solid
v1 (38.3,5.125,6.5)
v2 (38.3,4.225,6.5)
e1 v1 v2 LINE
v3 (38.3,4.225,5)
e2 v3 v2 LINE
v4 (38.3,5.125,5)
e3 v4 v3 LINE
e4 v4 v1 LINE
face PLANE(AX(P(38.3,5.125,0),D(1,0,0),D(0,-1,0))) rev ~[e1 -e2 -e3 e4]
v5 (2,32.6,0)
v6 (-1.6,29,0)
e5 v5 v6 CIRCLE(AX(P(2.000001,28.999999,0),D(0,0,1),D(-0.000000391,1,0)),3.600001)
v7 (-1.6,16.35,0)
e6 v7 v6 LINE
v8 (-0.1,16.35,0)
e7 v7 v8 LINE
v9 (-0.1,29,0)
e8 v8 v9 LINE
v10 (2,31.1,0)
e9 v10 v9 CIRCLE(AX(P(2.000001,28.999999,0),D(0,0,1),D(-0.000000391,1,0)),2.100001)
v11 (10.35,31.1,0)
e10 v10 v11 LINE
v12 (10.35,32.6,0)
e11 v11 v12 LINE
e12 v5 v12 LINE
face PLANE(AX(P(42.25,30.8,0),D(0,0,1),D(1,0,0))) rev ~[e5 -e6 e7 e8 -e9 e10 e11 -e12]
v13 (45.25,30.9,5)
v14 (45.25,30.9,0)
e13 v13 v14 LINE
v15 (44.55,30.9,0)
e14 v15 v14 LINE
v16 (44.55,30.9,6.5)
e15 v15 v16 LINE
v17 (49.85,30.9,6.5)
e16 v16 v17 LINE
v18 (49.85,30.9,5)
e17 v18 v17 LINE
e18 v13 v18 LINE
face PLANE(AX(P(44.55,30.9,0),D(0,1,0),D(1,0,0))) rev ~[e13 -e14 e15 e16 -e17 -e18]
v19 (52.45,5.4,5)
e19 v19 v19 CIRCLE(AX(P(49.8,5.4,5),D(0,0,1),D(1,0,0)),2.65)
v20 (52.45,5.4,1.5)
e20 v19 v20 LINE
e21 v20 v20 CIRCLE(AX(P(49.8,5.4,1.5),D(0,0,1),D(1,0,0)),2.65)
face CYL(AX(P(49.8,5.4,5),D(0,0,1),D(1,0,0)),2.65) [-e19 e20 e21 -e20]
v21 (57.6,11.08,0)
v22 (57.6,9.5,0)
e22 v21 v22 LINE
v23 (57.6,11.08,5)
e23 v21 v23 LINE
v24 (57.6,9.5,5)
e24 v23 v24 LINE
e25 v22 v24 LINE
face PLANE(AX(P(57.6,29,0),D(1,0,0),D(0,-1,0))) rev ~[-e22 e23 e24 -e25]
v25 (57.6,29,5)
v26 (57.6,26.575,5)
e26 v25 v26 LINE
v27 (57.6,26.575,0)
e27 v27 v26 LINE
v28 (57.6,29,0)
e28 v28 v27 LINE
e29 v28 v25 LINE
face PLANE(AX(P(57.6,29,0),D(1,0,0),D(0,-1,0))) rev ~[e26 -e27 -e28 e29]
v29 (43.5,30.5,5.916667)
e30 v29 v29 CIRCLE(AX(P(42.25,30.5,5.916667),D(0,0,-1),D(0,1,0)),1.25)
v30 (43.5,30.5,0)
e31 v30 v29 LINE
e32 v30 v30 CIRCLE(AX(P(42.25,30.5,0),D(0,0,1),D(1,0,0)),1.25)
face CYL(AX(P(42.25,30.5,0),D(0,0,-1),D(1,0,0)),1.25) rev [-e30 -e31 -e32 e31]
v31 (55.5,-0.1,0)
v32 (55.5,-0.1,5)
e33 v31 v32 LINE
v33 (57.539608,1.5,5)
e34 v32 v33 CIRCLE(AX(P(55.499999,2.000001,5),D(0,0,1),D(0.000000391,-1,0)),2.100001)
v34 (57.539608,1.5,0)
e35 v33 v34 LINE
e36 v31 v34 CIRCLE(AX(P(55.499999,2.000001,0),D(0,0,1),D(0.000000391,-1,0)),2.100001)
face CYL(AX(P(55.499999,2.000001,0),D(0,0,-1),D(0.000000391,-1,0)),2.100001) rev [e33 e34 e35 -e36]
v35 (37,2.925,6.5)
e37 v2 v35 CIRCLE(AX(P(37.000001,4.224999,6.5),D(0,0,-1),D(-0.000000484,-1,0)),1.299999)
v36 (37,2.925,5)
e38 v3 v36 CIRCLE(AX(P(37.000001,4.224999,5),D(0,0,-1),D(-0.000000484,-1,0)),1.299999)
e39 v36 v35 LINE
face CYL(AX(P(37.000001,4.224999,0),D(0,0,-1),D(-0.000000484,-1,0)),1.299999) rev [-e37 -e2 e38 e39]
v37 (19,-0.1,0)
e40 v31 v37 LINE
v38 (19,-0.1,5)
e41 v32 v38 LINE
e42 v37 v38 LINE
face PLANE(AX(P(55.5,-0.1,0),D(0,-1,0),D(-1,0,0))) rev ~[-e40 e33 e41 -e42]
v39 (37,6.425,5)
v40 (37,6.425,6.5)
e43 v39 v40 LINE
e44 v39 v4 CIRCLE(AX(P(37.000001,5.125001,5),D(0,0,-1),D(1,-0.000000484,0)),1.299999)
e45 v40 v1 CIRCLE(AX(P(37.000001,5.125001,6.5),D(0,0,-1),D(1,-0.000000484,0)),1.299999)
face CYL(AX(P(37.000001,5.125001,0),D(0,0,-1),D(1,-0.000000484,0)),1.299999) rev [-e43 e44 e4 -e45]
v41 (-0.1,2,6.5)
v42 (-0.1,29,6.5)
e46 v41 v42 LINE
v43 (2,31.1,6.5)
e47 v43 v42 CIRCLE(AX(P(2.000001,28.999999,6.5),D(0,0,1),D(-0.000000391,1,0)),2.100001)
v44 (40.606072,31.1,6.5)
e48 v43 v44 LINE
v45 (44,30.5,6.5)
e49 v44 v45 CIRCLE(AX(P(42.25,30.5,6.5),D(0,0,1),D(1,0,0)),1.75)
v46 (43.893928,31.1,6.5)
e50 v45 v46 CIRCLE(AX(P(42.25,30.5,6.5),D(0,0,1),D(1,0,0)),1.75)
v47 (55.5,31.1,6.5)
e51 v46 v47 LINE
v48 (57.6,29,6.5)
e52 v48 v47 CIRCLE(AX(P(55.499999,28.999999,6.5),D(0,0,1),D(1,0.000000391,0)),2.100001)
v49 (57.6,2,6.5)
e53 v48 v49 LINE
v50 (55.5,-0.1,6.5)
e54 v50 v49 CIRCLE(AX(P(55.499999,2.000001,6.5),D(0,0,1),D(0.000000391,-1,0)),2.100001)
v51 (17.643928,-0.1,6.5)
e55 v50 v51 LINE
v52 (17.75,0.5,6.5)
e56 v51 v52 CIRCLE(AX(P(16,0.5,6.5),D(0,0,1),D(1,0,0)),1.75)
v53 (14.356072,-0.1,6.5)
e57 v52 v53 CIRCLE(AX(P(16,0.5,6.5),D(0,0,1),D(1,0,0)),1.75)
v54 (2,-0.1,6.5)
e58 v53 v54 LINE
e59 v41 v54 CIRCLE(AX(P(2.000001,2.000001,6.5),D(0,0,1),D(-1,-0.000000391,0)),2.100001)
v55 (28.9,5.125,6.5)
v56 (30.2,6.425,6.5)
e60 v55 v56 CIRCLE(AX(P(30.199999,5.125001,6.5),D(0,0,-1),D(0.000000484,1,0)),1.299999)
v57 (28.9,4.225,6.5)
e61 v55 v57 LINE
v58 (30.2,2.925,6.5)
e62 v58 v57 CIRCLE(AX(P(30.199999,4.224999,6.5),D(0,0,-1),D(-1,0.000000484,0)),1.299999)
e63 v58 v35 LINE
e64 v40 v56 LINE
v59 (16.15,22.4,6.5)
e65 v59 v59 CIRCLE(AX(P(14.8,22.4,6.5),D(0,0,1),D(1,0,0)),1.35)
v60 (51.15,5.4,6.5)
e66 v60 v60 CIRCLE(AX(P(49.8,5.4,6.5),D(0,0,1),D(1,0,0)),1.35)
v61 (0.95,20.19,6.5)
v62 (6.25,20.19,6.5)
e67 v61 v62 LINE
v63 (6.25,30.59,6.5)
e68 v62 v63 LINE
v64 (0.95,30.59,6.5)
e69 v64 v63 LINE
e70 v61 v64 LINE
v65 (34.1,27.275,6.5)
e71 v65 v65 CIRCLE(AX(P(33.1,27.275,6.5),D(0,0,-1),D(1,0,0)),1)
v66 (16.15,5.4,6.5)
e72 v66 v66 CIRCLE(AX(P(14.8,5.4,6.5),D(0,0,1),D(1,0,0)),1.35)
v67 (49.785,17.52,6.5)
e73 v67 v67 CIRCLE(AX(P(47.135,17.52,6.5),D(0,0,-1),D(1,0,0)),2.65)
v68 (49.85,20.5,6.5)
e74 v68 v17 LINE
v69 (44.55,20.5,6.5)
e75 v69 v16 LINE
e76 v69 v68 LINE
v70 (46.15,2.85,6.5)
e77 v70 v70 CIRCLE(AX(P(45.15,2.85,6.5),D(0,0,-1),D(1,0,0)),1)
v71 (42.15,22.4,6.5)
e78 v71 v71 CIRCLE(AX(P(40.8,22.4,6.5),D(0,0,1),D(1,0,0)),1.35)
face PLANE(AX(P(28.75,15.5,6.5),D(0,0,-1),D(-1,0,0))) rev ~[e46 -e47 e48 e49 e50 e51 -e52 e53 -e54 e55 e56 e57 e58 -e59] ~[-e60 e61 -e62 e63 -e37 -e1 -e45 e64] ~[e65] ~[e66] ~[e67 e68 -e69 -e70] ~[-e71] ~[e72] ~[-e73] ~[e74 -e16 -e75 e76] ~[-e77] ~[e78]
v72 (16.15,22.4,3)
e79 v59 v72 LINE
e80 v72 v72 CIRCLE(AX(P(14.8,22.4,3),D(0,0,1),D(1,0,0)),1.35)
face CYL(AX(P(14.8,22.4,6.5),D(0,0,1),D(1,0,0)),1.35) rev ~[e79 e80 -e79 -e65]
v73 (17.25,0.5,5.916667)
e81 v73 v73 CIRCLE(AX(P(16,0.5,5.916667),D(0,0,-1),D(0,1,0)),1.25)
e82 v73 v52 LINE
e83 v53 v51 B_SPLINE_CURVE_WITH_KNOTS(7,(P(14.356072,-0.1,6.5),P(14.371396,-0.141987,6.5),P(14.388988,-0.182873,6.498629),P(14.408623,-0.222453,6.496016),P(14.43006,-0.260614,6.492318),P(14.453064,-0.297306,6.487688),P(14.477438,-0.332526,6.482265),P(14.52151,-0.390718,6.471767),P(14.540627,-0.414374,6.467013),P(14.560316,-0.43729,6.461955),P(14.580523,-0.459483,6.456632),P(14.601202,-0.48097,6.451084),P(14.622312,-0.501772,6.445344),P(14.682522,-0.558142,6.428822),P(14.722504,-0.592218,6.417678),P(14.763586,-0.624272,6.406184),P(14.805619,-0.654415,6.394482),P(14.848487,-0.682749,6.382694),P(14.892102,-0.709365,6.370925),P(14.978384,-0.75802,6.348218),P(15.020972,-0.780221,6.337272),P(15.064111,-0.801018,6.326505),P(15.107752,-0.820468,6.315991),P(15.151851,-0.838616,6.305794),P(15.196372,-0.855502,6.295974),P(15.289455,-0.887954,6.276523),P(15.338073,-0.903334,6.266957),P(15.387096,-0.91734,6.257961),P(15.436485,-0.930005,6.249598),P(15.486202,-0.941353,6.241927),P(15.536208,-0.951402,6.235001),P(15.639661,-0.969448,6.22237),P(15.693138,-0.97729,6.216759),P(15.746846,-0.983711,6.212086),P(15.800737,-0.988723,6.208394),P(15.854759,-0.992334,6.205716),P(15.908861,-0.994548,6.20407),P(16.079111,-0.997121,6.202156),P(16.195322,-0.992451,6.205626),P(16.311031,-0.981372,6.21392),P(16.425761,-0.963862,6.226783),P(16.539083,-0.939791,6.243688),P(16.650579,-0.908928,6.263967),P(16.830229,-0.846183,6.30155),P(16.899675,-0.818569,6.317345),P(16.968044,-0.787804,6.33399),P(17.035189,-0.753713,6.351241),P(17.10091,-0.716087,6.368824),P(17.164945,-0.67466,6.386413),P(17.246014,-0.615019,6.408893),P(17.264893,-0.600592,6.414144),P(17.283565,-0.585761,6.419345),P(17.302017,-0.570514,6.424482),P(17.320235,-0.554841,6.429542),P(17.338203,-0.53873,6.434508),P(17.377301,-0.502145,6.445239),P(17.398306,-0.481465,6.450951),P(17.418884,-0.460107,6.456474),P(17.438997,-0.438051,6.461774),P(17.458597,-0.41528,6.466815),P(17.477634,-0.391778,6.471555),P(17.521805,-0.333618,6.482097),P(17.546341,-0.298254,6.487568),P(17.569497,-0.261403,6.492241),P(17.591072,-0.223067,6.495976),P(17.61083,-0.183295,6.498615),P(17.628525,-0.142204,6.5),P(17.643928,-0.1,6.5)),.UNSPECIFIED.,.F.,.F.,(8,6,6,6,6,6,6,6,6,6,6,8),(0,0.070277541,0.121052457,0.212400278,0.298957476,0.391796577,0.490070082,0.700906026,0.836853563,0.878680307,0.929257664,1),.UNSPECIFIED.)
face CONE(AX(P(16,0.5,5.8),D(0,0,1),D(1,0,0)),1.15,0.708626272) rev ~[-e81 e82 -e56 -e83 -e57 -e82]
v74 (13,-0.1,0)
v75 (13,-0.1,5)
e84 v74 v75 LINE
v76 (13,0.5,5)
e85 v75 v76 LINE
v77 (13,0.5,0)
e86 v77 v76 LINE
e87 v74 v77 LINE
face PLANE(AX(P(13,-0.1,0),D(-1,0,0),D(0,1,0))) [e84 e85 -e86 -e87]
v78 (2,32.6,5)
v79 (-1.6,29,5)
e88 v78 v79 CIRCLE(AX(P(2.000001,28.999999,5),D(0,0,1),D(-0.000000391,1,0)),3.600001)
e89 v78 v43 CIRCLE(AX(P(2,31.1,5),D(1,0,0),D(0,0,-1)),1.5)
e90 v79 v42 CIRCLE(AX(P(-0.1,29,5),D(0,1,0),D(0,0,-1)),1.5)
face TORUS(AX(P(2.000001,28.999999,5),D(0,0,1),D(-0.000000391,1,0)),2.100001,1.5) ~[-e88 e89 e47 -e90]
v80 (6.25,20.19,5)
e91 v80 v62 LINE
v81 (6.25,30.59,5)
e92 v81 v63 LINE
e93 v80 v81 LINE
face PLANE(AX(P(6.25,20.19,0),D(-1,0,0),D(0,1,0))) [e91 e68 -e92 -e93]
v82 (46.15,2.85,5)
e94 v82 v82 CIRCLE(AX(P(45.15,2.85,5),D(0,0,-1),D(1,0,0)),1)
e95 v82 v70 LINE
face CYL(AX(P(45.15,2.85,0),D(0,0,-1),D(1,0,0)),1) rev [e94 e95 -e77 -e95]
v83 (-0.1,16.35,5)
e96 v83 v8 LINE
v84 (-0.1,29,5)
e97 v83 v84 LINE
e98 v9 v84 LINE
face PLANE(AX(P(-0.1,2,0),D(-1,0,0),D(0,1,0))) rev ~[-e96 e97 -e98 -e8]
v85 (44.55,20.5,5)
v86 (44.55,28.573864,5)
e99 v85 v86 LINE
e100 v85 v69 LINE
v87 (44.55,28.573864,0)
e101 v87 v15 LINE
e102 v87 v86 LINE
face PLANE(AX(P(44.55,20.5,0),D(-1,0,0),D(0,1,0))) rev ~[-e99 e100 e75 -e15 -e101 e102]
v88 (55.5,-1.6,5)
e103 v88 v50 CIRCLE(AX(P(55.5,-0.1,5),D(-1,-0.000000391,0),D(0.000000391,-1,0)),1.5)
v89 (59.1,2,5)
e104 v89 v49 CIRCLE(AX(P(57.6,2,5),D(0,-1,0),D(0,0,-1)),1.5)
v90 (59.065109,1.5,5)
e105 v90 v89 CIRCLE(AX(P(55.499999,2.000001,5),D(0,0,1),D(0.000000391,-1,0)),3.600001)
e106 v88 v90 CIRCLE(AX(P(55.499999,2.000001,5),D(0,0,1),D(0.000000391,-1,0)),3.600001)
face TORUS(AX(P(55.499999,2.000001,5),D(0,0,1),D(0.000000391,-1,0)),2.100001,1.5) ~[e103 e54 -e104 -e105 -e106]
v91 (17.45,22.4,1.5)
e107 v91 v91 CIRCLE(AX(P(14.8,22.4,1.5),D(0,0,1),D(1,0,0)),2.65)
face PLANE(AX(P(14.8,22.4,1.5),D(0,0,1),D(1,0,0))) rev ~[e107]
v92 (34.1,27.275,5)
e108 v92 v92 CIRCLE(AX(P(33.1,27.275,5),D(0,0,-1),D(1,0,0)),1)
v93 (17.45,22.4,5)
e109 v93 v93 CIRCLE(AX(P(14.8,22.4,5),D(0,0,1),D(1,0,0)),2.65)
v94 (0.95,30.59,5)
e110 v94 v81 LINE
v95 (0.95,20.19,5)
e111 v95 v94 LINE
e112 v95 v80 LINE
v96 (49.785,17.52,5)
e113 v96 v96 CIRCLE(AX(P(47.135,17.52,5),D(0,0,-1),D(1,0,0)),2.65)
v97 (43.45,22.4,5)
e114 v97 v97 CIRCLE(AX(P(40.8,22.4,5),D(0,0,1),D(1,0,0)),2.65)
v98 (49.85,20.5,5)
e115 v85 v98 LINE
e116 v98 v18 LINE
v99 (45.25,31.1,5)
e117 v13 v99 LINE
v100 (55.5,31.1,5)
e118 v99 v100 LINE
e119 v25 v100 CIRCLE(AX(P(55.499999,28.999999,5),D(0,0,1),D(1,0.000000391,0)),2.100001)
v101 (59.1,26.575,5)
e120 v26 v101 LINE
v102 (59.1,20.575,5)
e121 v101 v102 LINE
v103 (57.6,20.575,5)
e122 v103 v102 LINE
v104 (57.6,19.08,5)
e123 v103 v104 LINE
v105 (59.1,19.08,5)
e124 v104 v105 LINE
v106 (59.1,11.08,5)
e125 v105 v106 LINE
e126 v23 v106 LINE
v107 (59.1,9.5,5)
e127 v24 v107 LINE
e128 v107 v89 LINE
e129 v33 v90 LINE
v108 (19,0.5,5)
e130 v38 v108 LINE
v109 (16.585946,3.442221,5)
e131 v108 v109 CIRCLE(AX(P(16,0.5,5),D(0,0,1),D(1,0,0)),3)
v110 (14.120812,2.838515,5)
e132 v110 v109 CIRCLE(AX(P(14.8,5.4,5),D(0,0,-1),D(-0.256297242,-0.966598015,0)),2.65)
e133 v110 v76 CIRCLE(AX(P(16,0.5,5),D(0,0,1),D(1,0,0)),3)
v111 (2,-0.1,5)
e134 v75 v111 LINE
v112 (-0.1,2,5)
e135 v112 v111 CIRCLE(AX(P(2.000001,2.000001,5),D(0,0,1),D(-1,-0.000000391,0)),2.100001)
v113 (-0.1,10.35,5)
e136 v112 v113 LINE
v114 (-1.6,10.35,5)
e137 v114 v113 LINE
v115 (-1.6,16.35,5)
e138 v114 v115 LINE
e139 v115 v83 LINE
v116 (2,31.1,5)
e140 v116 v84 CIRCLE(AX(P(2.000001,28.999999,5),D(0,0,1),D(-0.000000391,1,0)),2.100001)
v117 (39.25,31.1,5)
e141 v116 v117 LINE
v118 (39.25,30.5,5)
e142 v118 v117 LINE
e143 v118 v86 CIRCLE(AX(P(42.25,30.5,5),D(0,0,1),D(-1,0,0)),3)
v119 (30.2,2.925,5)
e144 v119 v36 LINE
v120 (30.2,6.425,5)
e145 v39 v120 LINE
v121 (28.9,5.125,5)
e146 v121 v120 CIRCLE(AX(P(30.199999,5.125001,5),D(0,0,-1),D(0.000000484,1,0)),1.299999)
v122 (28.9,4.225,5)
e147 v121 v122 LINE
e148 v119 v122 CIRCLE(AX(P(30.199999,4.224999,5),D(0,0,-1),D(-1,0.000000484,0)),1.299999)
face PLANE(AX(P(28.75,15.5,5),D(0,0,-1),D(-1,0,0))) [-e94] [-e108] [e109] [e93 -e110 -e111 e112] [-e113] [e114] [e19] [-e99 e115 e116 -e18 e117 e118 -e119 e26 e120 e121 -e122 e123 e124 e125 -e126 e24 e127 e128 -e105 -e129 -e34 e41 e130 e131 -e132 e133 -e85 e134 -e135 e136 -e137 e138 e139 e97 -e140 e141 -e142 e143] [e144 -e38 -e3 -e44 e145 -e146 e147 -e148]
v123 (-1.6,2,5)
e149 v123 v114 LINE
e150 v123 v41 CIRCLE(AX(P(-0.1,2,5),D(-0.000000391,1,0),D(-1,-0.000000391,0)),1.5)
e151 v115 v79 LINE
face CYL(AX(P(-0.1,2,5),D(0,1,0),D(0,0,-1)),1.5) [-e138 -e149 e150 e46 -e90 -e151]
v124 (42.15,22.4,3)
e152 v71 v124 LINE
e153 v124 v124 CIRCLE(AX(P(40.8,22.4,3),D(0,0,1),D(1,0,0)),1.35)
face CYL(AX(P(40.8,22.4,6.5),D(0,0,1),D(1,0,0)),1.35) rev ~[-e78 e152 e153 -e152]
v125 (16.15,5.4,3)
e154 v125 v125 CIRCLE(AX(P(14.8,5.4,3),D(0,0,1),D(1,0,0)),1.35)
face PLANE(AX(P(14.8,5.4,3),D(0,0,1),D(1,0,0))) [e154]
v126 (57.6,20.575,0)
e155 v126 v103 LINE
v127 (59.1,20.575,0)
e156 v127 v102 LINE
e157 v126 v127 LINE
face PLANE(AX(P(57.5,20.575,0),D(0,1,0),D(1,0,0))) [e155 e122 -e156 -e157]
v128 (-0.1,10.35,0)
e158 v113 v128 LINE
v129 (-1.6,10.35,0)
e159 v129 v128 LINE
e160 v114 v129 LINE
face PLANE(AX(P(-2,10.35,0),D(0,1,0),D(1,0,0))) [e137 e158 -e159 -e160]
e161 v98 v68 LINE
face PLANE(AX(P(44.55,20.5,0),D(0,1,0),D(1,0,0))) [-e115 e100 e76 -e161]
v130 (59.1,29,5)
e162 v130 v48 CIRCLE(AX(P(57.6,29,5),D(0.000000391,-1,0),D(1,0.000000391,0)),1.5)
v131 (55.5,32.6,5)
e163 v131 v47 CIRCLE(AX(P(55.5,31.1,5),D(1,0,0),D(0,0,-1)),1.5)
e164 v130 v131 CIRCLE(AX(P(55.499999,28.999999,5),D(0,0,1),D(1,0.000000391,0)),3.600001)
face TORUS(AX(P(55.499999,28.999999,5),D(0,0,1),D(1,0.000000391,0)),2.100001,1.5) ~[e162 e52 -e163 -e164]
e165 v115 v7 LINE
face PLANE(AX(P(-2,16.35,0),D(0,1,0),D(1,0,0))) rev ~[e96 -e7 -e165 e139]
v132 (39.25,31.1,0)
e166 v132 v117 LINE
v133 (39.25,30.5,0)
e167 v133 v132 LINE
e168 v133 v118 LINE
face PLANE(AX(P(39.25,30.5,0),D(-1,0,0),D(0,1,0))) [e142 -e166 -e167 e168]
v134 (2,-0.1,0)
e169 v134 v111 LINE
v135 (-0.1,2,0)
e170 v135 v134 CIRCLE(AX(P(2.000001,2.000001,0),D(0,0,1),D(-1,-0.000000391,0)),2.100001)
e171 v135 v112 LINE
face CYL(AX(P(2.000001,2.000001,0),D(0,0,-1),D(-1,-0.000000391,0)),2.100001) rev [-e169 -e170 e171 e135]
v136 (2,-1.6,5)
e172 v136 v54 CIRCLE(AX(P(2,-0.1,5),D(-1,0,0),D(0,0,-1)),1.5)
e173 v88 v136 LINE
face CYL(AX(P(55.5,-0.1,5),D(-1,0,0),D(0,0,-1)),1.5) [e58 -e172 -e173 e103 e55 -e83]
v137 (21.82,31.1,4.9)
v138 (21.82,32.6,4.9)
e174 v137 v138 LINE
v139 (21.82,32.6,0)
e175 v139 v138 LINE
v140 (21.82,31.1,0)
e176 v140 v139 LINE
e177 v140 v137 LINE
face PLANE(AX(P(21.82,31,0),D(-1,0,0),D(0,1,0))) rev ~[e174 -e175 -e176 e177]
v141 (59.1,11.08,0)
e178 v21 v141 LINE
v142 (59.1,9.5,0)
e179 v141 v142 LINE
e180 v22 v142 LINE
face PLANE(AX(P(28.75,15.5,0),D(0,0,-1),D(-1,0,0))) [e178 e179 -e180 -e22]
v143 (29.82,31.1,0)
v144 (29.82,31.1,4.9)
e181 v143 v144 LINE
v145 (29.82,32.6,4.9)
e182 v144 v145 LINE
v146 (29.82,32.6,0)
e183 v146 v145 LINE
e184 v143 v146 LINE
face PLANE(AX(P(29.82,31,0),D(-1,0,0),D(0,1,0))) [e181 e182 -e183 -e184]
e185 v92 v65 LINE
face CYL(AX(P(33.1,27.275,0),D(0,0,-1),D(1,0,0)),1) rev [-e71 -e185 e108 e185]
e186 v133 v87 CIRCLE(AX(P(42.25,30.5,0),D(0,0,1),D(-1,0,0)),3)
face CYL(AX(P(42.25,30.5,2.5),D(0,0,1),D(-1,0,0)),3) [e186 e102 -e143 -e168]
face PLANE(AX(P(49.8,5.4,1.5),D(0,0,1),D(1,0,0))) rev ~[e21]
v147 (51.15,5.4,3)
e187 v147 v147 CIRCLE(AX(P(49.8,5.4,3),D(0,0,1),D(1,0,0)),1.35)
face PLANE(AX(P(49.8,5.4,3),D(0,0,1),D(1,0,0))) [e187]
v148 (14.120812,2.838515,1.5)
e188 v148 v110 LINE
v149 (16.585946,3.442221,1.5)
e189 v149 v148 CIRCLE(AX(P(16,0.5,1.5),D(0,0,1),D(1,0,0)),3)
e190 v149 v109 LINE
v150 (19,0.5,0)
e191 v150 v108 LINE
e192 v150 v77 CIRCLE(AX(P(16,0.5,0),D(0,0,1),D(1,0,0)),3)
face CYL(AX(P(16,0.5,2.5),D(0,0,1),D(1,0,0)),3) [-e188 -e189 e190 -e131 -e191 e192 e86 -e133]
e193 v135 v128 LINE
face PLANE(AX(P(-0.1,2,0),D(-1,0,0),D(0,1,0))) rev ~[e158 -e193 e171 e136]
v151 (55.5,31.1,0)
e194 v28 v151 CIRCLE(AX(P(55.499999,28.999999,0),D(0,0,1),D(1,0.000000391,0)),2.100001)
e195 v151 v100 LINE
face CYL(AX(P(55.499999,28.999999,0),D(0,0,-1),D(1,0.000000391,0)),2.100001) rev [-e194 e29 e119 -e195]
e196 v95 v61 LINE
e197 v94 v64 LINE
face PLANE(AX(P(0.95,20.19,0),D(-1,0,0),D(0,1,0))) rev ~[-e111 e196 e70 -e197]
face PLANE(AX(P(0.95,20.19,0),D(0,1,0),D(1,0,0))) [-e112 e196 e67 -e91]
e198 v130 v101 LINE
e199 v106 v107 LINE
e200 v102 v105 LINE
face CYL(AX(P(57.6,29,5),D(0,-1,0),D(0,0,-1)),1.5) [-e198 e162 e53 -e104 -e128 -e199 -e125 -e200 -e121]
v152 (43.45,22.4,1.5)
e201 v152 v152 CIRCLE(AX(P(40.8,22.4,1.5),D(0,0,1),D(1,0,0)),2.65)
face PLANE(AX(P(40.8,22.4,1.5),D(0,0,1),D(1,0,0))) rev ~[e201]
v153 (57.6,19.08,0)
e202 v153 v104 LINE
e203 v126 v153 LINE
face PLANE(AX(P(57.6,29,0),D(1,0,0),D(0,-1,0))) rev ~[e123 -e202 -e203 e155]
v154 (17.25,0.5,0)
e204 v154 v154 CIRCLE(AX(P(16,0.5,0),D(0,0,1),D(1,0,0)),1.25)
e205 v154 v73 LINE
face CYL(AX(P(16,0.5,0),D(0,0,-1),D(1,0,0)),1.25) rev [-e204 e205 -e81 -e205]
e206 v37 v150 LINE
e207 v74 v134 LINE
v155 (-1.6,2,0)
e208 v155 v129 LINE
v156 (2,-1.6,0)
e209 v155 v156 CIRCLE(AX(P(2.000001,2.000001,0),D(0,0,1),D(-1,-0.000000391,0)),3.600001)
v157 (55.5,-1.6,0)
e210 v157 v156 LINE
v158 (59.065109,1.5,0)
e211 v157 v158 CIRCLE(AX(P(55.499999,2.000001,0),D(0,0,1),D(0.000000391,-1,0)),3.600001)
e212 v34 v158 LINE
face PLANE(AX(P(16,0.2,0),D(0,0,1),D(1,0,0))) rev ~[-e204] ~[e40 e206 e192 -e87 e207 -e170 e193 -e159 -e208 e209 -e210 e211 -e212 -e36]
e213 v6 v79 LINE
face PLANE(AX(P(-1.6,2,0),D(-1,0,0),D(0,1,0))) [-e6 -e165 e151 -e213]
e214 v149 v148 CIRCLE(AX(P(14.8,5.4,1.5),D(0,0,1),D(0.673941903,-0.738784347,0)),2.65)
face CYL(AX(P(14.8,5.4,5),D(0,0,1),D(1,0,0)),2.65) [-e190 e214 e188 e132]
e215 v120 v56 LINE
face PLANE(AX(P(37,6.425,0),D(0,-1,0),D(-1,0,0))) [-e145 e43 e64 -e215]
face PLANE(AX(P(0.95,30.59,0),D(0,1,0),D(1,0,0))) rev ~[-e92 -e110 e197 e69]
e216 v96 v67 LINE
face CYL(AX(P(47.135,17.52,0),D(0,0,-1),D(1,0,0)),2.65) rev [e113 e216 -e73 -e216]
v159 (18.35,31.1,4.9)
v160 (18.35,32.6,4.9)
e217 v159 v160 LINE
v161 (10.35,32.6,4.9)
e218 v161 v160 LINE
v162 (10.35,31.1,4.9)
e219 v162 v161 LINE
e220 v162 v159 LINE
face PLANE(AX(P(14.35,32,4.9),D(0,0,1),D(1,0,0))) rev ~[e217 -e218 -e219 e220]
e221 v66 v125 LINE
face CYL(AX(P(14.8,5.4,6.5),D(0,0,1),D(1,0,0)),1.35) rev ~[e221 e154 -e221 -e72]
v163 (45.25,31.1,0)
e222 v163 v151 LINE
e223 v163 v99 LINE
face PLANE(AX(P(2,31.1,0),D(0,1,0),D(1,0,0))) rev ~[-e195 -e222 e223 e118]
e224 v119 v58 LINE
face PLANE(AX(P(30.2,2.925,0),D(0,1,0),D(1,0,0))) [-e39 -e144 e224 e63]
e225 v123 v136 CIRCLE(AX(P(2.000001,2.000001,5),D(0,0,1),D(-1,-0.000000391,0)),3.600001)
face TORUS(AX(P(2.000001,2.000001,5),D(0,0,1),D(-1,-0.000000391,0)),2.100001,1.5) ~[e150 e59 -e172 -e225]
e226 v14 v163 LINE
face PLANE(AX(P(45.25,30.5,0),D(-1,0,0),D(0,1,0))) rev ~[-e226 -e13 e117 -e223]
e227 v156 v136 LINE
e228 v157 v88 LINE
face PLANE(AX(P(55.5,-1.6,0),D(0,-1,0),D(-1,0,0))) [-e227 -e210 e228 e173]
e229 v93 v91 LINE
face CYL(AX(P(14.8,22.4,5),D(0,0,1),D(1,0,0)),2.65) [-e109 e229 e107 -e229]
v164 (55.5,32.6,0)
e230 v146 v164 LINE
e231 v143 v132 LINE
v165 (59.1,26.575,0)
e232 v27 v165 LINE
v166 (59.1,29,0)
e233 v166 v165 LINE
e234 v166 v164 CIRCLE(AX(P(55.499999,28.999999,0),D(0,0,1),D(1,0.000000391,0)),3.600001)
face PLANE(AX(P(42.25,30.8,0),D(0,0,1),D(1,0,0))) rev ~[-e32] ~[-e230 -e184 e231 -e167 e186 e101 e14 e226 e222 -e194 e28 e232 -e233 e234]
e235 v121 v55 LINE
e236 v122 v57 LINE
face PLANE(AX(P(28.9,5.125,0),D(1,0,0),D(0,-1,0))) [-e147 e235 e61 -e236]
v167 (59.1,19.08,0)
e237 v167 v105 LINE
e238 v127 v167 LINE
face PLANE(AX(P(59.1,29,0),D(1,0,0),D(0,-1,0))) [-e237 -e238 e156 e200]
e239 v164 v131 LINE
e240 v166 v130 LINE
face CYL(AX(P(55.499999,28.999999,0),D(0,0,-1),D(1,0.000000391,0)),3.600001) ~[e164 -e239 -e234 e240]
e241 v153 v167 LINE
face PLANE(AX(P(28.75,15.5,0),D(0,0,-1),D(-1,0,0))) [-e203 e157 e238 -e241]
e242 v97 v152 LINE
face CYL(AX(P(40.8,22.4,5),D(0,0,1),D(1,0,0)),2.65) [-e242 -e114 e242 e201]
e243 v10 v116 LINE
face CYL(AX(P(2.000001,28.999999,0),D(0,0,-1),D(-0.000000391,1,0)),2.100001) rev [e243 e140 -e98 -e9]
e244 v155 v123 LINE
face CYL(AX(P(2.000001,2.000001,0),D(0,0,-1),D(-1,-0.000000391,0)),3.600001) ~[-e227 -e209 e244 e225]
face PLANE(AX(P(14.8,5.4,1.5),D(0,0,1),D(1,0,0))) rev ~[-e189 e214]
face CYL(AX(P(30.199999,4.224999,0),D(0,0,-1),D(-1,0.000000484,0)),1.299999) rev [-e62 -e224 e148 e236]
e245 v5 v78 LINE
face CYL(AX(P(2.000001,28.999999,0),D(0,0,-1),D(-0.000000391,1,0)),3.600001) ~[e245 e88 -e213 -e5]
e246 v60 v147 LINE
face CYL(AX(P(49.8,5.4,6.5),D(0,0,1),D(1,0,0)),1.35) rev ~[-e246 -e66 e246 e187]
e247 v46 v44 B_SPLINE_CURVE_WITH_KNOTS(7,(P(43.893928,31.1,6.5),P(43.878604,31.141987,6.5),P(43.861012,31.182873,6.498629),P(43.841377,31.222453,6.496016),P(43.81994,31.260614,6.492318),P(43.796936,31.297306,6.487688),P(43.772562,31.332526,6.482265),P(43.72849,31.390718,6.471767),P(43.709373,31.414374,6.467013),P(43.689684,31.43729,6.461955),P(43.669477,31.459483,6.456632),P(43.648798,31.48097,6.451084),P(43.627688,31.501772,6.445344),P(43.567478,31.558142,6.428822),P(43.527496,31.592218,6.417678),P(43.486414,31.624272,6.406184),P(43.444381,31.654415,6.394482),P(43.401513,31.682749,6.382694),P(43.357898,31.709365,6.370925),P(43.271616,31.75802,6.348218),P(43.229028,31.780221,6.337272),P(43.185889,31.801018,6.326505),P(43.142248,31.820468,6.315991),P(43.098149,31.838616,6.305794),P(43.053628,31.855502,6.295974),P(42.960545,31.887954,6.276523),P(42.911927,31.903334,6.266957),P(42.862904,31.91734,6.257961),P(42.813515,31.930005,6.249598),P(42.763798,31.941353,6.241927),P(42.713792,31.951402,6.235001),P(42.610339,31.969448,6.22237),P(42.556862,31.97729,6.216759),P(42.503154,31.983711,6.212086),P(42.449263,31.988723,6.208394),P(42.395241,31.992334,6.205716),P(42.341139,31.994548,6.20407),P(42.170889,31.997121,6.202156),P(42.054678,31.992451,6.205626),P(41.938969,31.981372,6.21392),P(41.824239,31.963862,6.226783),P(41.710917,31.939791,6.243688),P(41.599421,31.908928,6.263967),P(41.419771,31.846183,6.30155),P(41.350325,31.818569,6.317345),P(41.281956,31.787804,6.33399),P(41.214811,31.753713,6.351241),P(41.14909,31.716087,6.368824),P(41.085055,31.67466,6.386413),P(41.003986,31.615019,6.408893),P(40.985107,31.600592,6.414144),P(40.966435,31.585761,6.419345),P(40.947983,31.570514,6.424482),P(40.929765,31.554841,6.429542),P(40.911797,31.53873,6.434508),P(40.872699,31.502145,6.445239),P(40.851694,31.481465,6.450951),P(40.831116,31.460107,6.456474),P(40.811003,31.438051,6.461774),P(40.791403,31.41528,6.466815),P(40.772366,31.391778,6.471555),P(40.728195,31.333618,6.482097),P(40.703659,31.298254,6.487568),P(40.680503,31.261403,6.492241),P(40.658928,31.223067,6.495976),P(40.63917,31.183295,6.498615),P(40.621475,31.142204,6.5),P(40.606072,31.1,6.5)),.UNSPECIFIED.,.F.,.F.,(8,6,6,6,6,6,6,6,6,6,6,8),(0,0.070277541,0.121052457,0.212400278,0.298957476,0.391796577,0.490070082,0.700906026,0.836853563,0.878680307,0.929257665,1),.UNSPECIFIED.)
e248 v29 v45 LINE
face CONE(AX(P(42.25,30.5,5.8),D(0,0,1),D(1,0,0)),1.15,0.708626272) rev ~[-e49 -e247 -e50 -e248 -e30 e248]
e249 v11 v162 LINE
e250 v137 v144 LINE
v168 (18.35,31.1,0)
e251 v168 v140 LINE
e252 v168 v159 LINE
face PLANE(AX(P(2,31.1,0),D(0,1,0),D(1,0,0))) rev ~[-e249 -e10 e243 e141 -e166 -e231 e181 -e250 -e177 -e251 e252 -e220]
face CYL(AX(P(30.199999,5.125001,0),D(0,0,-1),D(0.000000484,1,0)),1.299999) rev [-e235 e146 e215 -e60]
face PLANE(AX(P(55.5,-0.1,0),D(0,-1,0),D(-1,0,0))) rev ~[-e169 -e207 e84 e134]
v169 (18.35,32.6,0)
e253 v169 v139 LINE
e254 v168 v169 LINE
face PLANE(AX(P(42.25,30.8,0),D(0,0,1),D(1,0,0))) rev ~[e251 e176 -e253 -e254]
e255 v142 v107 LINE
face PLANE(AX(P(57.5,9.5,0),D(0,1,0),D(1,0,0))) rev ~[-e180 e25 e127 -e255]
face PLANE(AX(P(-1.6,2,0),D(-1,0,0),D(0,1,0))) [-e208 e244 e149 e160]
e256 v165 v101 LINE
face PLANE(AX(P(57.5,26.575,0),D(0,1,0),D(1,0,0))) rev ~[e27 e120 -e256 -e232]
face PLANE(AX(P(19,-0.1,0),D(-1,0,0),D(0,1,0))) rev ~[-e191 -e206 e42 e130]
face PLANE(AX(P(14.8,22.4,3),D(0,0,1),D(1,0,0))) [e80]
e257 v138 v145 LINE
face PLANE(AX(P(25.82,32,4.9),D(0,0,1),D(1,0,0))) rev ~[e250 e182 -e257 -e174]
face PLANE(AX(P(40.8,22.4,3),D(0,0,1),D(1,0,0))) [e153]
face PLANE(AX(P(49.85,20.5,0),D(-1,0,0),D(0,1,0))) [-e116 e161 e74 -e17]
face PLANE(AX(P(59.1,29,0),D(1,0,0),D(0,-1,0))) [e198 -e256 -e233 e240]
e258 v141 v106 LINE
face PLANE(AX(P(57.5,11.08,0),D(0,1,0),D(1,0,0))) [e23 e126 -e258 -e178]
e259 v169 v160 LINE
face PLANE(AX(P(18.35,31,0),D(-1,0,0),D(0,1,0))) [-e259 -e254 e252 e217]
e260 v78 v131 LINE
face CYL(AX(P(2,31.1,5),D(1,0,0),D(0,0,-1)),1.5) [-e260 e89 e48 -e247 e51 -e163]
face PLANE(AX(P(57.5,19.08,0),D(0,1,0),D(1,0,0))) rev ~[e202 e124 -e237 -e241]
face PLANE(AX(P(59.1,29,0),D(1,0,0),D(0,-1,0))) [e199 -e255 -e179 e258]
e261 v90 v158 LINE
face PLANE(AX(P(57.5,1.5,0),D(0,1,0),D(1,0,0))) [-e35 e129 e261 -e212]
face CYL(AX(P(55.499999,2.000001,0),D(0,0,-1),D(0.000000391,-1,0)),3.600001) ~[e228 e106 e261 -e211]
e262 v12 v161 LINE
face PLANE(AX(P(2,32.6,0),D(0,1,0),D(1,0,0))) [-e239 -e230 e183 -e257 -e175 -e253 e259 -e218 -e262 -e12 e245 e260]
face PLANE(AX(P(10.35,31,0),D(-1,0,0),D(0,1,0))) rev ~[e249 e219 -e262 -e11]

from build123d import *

# Parameters (mm, degrees)
PAD001_DEPTH      = 5
THICKNESS001_T    = 1.5
BOX_W             = 2
BOX_H             = 8
BOX_DEPTH         = 5
BOX001_W          = 2
BOX001_H          = 8
BOX001_DEPTH      = 5
BOX002_W          = 2
BOX002_H          = 6
BOX002_DEPTH      = 5
BOX003_W          = 2
BOX003_H          = 6
BOX003_DEPTH      = 5
CYLINDER001_W     = 3
CYLINDER001_H     = 5
CYLINDER001_ANGLE = 180
BOX005_W          = 6
BOX005_H          = 0.6
BOX005_DEPTH      = 5
CYLINDER005_W     = 3
CYLINDER005_H     = 5
CYLINDER005_ANGLE = 180
BOX007_W          = 6
BOX007_H          = 0.6
BOX007_DEPTH      = 5
SKETCH002_R       = 2.65
SKETCH002_R_2     = 1.25
SKETCH002_R_3     = 1
SKETCH002_W       = 5.3
SKETCH002_H       = 10.4
POCKET_DEPTH      = 6.501
BOX008_W          = 8
BOX008_H          = 2
BOX008_DEPTH      = 4.9
BOX009_W          = 8
BOX009_H          = 2
BOX009_DEPTH      = 4.9
SKETCH006_R       = 2.65
PAD003_DEPTH      = 3.5
SKETCH007_R       = 1.35
POCKET002_DEPTH   = 3.5


with BuildPart() as part:
    # Sketch001 → Pad001 (new body)
    with BuildSketch(Plane.XY):
        with BuildLine():
            Line((2, 31.1), (55.5, 31.1))
            ThreePointArc((57.6, 29), (56.984924, 30.484924), (55.5, 31.1))
            Line((57.6, 29), (57.6, 2))
            ThreePointArc((55.5, -0.1), (56.984924, 0.515076), (57.6, 2))
            Line((55.5, -0.1), (2, -0.1))
            ThreePointArc((-0.1, 2), (0.515076, 0.515076), (2, -0.1))
            Line((-0.1, 2), (-0.1, 29))
            ThreePointArc((2, 31.1), (0.515076, 30.484924), (-0.1, 29))
        make_face()
    extrude(amount=PAD001_DEPTH)

    # Thickness001
    thickness001_openings = [part.faces().sort_by_distance(p)[0] for p in [
        (28.75, 15.5, 0),
    ]]
    offset(amount=THICKNESS001_T, openings=thickness001_openings)

    # Box → Box (cut)
    with BuildSketch(Plane(origin=(57.5, 1.5, 0), x_dir=(1, 0, 0), z_dir=(0, 0, 1))):
        with Locations((1, 4)):
            Rectangle(BOX_W, BOX_H)
    extrude(amount=BOX_DEPTH, mode=Mode.SUBTRACT)

    # Box001 → Box001 (cut)
    with BuildSketch(Plane(origin=(57.5, 11.08, 0), x_dir=(1, 0, 0), z_dir=(0, 0, 1))):
        with Locations((1, 4)):
            Rectangle(BOX001_W, BOX001_H)
    extrude(amount=BOX001_DEPTH, mode=Mode.SUBTRACT)

    # Box002 → Box002 (cut)
    with BuildSketch(Plane(origin=(57.5, 20.575, 0), x_dir=(1, 0, 0), z_dir=(0, 0, 1))):
        with Locations((1, 3)):
            Rectangle(BOX002_W, BOX002_H)
    extrude(amount=BOX002_DEPTH, mode=Mode.SUBTRACT)

    # Box003 → Box003 (cut)
    with BuildSketch(Plane(origin=(-2, 10.35, 0), x_dir=(1, 0, 0), z_dir=(0, 0, 1))):
        with Locations((1, 3)):
            Rectangle(BOX003_W, BOX003_H)
    extrude(amount=BOX003_DEPTH, mode=Mode.SUBTRACT)

    # Cylinder001 → Cylinder001 (revolve)
    with BuildSketch(Plane(origin=(16, 0.5, 0), x_dir=(1, 0, 0), z_dir=(0, -1, 0))):
        with Locations((1.5, 2.5)):
            Rectangle(CYLINDER001_W, CYLINDER001_H)
    revolve(axis=Axis((16, 0.5, 0), (0, 0, 1)), revolution_arc=CYLINDER001_ANGLE)

    # Box005 → Box005 (join)
    with BuildSketch(Plane(origin=(13, -0.1, 0), x_dir=(1, 0, 0), z_dir=(0, 0, 1))):
        with Locations((3, 0.3)):
            Rectangle(BOX005_W, BOX005_H)
    extrude(amount=BOX005_DEPTH)

    # Cylinder005 → Cylinder005 (revolve)
    with BuildSketch(Plane(origin=(42.25, 30.5, 0), x_dir=(-1, 0, 0), z_dir=(0, 1, 0))):
        with Locations((1.5, 2.5)):
            Rectangle(CYLINDER005_W, CYLINDER005_H)
    revolve(axis=Axis((42.25, 30.5, 0), (0, 0, 1)), revolution_arc=CYLINDER005_ANGLE)

    # Box007 → Box007 (join)
    with BuildSketch(Plane(origin=(39.25, 30.5, 0), x_dir=(1, 0, 0), z_dir=(0, 0, 1))):
        with Locations((3, 0.3)):
            Rectangle(BOX007_W, BOX007_H)
    extrude(amount=BOX007_DEPTH)

    # Sketch002 → Pocket (cut, through all)
    with BuildSketch(Plane.XY):
        with Locations((47.135, 17.52)):
            Circle(SKETCH002_R)
        with Locations((16, 0.5)):
            Circle(SKETCH002_R_2)
        with Locations((42.25, 30.5)):
            Circle(SKETCH002_R_2)
        with Locations((45.15, 2.85)):
            Circle(SKETCH002_R_3)
        with Locations((33.1, 27.275)):
            Circle(SKETCH002_R_3)
        with Locations((3.6, 25.39)):
            Rectangle(SKETCH002_W, SKETCH002_H)
        with Locations((47.2, 25.7)):
            Rectangle(SKETCH002_W, SKETCH002_H)
        with BuildLine():
            Line((30.2, 2.925), (37, 2.925))
            ThreePointArc((37, 2.925), (37.919239, 3.305761), (38.3, 4.225))
            Line((38.3, 5.125), (38.3, 4.225))
            ThreePointArc((38.3, 5.125), (37.919239, 6.044239), (37, 6.425))
            Line((37, 6.425), (30.2, 6.425))
            ThreePointArc((30.2, 6.425), (29.280761, 6.044239), (28.9, 5.125))
            Line((28.9, 5.125), (28.9, 4.225))
            ThreePointArc((28.9, 4.225), (29.280761, 3.305761), (30.2, 2.925))
        make_face()
    extrude(amount=POCKET_DEPTH, mode=Mode.SUBTRACT)

    # Cone → Cone (revolve, cut)
    with BuildSketch(Plane(origin=(16, 0.5, 5.8), x_dir=(1, 0, 0), z_dir=(0, -1, 0))):
        Polygon((0, 0), (1.15, 0), (1.75, 0.7), (0, 0.7), align=None)
    revolve(axis=Axis((16, 0.5, 5.8), (0, 0, 1)), mode=Mode.SUBTRACT)

    # Cone001 → Cone001 (revolve, cut)
    with BuildSketch(Plane(origin=(42.25, 30.5, 5.8), x_dir=(1, 0, 0), z_dir=(0, -1, 0))):
        Polygon((0, 0), (1.15, 0), (1.75, 0.7), (0, 0.7), align=None)
    revolve(axis=Axis((42.25, 30.5, 5.8), (0, 0, 1)), mode=Mode.SUBTRACT)

    # Box008 → Box008 (cut)
    with BuildSketch(Plane(origin=(10.35, 31, 0), x_dir=(1, 0, 0), z_dir=(0, 0, 1))):
        with Locations((4, 1)):
            Rectangle(BOX008_W, BOX008_H)
    extrude(amount=BOX008_DEPTH, mode=Mode.SUBTRACT)

    # Box009 → Box009 (cut)
    with BuildSketch(Plane(origin=(21.82, 31, 0), x_dir=(1, 0, 0), z_dir=(0, 0, 1))):
        with Locations((4, 1)):
            Rectangle(BOX009_W, BOX009_H)
    extrude(amount=BOX009_DEPTH, mode=Mode.SUBTRACT)

    # Sketch006 → Pad003 (join)
    with BuildSketch(Plane.XY.offset(5)):
        with Locations((14.8, 22.4)):
            Circle(SKETCH006_R)
        with Locations((49.8, 5.4)):
            Circle(SKETCH006_R)
        with Locations((40.8, 22.4)):
            Circle(SKETCH006_R)
        with Locations((14.8, 5.4)):
            Circle(SKETCH006_R)
    extrude(amount=-PAD003_DEPTH)

    # Sketch007 → Pocket002 (cut)
    with BuildSketch(Plane.XY.offset(6.5)):
        with Locations((14.8, 22.4)):
            Circle(SKETCH007_R)
        with Locations((49.8, 5.4)):
            Circle(SKETCH007_R)
        with Locations((40.8, 22.4)):
            Circle(SKETCH007_R)
        with Locations((14.8, 5.4)):
            Circle(SKETCH007_R)
    extrude(amount=-POCKET002_DEPTH, mode=Mode.SUBTRACT)


solid = part.part
